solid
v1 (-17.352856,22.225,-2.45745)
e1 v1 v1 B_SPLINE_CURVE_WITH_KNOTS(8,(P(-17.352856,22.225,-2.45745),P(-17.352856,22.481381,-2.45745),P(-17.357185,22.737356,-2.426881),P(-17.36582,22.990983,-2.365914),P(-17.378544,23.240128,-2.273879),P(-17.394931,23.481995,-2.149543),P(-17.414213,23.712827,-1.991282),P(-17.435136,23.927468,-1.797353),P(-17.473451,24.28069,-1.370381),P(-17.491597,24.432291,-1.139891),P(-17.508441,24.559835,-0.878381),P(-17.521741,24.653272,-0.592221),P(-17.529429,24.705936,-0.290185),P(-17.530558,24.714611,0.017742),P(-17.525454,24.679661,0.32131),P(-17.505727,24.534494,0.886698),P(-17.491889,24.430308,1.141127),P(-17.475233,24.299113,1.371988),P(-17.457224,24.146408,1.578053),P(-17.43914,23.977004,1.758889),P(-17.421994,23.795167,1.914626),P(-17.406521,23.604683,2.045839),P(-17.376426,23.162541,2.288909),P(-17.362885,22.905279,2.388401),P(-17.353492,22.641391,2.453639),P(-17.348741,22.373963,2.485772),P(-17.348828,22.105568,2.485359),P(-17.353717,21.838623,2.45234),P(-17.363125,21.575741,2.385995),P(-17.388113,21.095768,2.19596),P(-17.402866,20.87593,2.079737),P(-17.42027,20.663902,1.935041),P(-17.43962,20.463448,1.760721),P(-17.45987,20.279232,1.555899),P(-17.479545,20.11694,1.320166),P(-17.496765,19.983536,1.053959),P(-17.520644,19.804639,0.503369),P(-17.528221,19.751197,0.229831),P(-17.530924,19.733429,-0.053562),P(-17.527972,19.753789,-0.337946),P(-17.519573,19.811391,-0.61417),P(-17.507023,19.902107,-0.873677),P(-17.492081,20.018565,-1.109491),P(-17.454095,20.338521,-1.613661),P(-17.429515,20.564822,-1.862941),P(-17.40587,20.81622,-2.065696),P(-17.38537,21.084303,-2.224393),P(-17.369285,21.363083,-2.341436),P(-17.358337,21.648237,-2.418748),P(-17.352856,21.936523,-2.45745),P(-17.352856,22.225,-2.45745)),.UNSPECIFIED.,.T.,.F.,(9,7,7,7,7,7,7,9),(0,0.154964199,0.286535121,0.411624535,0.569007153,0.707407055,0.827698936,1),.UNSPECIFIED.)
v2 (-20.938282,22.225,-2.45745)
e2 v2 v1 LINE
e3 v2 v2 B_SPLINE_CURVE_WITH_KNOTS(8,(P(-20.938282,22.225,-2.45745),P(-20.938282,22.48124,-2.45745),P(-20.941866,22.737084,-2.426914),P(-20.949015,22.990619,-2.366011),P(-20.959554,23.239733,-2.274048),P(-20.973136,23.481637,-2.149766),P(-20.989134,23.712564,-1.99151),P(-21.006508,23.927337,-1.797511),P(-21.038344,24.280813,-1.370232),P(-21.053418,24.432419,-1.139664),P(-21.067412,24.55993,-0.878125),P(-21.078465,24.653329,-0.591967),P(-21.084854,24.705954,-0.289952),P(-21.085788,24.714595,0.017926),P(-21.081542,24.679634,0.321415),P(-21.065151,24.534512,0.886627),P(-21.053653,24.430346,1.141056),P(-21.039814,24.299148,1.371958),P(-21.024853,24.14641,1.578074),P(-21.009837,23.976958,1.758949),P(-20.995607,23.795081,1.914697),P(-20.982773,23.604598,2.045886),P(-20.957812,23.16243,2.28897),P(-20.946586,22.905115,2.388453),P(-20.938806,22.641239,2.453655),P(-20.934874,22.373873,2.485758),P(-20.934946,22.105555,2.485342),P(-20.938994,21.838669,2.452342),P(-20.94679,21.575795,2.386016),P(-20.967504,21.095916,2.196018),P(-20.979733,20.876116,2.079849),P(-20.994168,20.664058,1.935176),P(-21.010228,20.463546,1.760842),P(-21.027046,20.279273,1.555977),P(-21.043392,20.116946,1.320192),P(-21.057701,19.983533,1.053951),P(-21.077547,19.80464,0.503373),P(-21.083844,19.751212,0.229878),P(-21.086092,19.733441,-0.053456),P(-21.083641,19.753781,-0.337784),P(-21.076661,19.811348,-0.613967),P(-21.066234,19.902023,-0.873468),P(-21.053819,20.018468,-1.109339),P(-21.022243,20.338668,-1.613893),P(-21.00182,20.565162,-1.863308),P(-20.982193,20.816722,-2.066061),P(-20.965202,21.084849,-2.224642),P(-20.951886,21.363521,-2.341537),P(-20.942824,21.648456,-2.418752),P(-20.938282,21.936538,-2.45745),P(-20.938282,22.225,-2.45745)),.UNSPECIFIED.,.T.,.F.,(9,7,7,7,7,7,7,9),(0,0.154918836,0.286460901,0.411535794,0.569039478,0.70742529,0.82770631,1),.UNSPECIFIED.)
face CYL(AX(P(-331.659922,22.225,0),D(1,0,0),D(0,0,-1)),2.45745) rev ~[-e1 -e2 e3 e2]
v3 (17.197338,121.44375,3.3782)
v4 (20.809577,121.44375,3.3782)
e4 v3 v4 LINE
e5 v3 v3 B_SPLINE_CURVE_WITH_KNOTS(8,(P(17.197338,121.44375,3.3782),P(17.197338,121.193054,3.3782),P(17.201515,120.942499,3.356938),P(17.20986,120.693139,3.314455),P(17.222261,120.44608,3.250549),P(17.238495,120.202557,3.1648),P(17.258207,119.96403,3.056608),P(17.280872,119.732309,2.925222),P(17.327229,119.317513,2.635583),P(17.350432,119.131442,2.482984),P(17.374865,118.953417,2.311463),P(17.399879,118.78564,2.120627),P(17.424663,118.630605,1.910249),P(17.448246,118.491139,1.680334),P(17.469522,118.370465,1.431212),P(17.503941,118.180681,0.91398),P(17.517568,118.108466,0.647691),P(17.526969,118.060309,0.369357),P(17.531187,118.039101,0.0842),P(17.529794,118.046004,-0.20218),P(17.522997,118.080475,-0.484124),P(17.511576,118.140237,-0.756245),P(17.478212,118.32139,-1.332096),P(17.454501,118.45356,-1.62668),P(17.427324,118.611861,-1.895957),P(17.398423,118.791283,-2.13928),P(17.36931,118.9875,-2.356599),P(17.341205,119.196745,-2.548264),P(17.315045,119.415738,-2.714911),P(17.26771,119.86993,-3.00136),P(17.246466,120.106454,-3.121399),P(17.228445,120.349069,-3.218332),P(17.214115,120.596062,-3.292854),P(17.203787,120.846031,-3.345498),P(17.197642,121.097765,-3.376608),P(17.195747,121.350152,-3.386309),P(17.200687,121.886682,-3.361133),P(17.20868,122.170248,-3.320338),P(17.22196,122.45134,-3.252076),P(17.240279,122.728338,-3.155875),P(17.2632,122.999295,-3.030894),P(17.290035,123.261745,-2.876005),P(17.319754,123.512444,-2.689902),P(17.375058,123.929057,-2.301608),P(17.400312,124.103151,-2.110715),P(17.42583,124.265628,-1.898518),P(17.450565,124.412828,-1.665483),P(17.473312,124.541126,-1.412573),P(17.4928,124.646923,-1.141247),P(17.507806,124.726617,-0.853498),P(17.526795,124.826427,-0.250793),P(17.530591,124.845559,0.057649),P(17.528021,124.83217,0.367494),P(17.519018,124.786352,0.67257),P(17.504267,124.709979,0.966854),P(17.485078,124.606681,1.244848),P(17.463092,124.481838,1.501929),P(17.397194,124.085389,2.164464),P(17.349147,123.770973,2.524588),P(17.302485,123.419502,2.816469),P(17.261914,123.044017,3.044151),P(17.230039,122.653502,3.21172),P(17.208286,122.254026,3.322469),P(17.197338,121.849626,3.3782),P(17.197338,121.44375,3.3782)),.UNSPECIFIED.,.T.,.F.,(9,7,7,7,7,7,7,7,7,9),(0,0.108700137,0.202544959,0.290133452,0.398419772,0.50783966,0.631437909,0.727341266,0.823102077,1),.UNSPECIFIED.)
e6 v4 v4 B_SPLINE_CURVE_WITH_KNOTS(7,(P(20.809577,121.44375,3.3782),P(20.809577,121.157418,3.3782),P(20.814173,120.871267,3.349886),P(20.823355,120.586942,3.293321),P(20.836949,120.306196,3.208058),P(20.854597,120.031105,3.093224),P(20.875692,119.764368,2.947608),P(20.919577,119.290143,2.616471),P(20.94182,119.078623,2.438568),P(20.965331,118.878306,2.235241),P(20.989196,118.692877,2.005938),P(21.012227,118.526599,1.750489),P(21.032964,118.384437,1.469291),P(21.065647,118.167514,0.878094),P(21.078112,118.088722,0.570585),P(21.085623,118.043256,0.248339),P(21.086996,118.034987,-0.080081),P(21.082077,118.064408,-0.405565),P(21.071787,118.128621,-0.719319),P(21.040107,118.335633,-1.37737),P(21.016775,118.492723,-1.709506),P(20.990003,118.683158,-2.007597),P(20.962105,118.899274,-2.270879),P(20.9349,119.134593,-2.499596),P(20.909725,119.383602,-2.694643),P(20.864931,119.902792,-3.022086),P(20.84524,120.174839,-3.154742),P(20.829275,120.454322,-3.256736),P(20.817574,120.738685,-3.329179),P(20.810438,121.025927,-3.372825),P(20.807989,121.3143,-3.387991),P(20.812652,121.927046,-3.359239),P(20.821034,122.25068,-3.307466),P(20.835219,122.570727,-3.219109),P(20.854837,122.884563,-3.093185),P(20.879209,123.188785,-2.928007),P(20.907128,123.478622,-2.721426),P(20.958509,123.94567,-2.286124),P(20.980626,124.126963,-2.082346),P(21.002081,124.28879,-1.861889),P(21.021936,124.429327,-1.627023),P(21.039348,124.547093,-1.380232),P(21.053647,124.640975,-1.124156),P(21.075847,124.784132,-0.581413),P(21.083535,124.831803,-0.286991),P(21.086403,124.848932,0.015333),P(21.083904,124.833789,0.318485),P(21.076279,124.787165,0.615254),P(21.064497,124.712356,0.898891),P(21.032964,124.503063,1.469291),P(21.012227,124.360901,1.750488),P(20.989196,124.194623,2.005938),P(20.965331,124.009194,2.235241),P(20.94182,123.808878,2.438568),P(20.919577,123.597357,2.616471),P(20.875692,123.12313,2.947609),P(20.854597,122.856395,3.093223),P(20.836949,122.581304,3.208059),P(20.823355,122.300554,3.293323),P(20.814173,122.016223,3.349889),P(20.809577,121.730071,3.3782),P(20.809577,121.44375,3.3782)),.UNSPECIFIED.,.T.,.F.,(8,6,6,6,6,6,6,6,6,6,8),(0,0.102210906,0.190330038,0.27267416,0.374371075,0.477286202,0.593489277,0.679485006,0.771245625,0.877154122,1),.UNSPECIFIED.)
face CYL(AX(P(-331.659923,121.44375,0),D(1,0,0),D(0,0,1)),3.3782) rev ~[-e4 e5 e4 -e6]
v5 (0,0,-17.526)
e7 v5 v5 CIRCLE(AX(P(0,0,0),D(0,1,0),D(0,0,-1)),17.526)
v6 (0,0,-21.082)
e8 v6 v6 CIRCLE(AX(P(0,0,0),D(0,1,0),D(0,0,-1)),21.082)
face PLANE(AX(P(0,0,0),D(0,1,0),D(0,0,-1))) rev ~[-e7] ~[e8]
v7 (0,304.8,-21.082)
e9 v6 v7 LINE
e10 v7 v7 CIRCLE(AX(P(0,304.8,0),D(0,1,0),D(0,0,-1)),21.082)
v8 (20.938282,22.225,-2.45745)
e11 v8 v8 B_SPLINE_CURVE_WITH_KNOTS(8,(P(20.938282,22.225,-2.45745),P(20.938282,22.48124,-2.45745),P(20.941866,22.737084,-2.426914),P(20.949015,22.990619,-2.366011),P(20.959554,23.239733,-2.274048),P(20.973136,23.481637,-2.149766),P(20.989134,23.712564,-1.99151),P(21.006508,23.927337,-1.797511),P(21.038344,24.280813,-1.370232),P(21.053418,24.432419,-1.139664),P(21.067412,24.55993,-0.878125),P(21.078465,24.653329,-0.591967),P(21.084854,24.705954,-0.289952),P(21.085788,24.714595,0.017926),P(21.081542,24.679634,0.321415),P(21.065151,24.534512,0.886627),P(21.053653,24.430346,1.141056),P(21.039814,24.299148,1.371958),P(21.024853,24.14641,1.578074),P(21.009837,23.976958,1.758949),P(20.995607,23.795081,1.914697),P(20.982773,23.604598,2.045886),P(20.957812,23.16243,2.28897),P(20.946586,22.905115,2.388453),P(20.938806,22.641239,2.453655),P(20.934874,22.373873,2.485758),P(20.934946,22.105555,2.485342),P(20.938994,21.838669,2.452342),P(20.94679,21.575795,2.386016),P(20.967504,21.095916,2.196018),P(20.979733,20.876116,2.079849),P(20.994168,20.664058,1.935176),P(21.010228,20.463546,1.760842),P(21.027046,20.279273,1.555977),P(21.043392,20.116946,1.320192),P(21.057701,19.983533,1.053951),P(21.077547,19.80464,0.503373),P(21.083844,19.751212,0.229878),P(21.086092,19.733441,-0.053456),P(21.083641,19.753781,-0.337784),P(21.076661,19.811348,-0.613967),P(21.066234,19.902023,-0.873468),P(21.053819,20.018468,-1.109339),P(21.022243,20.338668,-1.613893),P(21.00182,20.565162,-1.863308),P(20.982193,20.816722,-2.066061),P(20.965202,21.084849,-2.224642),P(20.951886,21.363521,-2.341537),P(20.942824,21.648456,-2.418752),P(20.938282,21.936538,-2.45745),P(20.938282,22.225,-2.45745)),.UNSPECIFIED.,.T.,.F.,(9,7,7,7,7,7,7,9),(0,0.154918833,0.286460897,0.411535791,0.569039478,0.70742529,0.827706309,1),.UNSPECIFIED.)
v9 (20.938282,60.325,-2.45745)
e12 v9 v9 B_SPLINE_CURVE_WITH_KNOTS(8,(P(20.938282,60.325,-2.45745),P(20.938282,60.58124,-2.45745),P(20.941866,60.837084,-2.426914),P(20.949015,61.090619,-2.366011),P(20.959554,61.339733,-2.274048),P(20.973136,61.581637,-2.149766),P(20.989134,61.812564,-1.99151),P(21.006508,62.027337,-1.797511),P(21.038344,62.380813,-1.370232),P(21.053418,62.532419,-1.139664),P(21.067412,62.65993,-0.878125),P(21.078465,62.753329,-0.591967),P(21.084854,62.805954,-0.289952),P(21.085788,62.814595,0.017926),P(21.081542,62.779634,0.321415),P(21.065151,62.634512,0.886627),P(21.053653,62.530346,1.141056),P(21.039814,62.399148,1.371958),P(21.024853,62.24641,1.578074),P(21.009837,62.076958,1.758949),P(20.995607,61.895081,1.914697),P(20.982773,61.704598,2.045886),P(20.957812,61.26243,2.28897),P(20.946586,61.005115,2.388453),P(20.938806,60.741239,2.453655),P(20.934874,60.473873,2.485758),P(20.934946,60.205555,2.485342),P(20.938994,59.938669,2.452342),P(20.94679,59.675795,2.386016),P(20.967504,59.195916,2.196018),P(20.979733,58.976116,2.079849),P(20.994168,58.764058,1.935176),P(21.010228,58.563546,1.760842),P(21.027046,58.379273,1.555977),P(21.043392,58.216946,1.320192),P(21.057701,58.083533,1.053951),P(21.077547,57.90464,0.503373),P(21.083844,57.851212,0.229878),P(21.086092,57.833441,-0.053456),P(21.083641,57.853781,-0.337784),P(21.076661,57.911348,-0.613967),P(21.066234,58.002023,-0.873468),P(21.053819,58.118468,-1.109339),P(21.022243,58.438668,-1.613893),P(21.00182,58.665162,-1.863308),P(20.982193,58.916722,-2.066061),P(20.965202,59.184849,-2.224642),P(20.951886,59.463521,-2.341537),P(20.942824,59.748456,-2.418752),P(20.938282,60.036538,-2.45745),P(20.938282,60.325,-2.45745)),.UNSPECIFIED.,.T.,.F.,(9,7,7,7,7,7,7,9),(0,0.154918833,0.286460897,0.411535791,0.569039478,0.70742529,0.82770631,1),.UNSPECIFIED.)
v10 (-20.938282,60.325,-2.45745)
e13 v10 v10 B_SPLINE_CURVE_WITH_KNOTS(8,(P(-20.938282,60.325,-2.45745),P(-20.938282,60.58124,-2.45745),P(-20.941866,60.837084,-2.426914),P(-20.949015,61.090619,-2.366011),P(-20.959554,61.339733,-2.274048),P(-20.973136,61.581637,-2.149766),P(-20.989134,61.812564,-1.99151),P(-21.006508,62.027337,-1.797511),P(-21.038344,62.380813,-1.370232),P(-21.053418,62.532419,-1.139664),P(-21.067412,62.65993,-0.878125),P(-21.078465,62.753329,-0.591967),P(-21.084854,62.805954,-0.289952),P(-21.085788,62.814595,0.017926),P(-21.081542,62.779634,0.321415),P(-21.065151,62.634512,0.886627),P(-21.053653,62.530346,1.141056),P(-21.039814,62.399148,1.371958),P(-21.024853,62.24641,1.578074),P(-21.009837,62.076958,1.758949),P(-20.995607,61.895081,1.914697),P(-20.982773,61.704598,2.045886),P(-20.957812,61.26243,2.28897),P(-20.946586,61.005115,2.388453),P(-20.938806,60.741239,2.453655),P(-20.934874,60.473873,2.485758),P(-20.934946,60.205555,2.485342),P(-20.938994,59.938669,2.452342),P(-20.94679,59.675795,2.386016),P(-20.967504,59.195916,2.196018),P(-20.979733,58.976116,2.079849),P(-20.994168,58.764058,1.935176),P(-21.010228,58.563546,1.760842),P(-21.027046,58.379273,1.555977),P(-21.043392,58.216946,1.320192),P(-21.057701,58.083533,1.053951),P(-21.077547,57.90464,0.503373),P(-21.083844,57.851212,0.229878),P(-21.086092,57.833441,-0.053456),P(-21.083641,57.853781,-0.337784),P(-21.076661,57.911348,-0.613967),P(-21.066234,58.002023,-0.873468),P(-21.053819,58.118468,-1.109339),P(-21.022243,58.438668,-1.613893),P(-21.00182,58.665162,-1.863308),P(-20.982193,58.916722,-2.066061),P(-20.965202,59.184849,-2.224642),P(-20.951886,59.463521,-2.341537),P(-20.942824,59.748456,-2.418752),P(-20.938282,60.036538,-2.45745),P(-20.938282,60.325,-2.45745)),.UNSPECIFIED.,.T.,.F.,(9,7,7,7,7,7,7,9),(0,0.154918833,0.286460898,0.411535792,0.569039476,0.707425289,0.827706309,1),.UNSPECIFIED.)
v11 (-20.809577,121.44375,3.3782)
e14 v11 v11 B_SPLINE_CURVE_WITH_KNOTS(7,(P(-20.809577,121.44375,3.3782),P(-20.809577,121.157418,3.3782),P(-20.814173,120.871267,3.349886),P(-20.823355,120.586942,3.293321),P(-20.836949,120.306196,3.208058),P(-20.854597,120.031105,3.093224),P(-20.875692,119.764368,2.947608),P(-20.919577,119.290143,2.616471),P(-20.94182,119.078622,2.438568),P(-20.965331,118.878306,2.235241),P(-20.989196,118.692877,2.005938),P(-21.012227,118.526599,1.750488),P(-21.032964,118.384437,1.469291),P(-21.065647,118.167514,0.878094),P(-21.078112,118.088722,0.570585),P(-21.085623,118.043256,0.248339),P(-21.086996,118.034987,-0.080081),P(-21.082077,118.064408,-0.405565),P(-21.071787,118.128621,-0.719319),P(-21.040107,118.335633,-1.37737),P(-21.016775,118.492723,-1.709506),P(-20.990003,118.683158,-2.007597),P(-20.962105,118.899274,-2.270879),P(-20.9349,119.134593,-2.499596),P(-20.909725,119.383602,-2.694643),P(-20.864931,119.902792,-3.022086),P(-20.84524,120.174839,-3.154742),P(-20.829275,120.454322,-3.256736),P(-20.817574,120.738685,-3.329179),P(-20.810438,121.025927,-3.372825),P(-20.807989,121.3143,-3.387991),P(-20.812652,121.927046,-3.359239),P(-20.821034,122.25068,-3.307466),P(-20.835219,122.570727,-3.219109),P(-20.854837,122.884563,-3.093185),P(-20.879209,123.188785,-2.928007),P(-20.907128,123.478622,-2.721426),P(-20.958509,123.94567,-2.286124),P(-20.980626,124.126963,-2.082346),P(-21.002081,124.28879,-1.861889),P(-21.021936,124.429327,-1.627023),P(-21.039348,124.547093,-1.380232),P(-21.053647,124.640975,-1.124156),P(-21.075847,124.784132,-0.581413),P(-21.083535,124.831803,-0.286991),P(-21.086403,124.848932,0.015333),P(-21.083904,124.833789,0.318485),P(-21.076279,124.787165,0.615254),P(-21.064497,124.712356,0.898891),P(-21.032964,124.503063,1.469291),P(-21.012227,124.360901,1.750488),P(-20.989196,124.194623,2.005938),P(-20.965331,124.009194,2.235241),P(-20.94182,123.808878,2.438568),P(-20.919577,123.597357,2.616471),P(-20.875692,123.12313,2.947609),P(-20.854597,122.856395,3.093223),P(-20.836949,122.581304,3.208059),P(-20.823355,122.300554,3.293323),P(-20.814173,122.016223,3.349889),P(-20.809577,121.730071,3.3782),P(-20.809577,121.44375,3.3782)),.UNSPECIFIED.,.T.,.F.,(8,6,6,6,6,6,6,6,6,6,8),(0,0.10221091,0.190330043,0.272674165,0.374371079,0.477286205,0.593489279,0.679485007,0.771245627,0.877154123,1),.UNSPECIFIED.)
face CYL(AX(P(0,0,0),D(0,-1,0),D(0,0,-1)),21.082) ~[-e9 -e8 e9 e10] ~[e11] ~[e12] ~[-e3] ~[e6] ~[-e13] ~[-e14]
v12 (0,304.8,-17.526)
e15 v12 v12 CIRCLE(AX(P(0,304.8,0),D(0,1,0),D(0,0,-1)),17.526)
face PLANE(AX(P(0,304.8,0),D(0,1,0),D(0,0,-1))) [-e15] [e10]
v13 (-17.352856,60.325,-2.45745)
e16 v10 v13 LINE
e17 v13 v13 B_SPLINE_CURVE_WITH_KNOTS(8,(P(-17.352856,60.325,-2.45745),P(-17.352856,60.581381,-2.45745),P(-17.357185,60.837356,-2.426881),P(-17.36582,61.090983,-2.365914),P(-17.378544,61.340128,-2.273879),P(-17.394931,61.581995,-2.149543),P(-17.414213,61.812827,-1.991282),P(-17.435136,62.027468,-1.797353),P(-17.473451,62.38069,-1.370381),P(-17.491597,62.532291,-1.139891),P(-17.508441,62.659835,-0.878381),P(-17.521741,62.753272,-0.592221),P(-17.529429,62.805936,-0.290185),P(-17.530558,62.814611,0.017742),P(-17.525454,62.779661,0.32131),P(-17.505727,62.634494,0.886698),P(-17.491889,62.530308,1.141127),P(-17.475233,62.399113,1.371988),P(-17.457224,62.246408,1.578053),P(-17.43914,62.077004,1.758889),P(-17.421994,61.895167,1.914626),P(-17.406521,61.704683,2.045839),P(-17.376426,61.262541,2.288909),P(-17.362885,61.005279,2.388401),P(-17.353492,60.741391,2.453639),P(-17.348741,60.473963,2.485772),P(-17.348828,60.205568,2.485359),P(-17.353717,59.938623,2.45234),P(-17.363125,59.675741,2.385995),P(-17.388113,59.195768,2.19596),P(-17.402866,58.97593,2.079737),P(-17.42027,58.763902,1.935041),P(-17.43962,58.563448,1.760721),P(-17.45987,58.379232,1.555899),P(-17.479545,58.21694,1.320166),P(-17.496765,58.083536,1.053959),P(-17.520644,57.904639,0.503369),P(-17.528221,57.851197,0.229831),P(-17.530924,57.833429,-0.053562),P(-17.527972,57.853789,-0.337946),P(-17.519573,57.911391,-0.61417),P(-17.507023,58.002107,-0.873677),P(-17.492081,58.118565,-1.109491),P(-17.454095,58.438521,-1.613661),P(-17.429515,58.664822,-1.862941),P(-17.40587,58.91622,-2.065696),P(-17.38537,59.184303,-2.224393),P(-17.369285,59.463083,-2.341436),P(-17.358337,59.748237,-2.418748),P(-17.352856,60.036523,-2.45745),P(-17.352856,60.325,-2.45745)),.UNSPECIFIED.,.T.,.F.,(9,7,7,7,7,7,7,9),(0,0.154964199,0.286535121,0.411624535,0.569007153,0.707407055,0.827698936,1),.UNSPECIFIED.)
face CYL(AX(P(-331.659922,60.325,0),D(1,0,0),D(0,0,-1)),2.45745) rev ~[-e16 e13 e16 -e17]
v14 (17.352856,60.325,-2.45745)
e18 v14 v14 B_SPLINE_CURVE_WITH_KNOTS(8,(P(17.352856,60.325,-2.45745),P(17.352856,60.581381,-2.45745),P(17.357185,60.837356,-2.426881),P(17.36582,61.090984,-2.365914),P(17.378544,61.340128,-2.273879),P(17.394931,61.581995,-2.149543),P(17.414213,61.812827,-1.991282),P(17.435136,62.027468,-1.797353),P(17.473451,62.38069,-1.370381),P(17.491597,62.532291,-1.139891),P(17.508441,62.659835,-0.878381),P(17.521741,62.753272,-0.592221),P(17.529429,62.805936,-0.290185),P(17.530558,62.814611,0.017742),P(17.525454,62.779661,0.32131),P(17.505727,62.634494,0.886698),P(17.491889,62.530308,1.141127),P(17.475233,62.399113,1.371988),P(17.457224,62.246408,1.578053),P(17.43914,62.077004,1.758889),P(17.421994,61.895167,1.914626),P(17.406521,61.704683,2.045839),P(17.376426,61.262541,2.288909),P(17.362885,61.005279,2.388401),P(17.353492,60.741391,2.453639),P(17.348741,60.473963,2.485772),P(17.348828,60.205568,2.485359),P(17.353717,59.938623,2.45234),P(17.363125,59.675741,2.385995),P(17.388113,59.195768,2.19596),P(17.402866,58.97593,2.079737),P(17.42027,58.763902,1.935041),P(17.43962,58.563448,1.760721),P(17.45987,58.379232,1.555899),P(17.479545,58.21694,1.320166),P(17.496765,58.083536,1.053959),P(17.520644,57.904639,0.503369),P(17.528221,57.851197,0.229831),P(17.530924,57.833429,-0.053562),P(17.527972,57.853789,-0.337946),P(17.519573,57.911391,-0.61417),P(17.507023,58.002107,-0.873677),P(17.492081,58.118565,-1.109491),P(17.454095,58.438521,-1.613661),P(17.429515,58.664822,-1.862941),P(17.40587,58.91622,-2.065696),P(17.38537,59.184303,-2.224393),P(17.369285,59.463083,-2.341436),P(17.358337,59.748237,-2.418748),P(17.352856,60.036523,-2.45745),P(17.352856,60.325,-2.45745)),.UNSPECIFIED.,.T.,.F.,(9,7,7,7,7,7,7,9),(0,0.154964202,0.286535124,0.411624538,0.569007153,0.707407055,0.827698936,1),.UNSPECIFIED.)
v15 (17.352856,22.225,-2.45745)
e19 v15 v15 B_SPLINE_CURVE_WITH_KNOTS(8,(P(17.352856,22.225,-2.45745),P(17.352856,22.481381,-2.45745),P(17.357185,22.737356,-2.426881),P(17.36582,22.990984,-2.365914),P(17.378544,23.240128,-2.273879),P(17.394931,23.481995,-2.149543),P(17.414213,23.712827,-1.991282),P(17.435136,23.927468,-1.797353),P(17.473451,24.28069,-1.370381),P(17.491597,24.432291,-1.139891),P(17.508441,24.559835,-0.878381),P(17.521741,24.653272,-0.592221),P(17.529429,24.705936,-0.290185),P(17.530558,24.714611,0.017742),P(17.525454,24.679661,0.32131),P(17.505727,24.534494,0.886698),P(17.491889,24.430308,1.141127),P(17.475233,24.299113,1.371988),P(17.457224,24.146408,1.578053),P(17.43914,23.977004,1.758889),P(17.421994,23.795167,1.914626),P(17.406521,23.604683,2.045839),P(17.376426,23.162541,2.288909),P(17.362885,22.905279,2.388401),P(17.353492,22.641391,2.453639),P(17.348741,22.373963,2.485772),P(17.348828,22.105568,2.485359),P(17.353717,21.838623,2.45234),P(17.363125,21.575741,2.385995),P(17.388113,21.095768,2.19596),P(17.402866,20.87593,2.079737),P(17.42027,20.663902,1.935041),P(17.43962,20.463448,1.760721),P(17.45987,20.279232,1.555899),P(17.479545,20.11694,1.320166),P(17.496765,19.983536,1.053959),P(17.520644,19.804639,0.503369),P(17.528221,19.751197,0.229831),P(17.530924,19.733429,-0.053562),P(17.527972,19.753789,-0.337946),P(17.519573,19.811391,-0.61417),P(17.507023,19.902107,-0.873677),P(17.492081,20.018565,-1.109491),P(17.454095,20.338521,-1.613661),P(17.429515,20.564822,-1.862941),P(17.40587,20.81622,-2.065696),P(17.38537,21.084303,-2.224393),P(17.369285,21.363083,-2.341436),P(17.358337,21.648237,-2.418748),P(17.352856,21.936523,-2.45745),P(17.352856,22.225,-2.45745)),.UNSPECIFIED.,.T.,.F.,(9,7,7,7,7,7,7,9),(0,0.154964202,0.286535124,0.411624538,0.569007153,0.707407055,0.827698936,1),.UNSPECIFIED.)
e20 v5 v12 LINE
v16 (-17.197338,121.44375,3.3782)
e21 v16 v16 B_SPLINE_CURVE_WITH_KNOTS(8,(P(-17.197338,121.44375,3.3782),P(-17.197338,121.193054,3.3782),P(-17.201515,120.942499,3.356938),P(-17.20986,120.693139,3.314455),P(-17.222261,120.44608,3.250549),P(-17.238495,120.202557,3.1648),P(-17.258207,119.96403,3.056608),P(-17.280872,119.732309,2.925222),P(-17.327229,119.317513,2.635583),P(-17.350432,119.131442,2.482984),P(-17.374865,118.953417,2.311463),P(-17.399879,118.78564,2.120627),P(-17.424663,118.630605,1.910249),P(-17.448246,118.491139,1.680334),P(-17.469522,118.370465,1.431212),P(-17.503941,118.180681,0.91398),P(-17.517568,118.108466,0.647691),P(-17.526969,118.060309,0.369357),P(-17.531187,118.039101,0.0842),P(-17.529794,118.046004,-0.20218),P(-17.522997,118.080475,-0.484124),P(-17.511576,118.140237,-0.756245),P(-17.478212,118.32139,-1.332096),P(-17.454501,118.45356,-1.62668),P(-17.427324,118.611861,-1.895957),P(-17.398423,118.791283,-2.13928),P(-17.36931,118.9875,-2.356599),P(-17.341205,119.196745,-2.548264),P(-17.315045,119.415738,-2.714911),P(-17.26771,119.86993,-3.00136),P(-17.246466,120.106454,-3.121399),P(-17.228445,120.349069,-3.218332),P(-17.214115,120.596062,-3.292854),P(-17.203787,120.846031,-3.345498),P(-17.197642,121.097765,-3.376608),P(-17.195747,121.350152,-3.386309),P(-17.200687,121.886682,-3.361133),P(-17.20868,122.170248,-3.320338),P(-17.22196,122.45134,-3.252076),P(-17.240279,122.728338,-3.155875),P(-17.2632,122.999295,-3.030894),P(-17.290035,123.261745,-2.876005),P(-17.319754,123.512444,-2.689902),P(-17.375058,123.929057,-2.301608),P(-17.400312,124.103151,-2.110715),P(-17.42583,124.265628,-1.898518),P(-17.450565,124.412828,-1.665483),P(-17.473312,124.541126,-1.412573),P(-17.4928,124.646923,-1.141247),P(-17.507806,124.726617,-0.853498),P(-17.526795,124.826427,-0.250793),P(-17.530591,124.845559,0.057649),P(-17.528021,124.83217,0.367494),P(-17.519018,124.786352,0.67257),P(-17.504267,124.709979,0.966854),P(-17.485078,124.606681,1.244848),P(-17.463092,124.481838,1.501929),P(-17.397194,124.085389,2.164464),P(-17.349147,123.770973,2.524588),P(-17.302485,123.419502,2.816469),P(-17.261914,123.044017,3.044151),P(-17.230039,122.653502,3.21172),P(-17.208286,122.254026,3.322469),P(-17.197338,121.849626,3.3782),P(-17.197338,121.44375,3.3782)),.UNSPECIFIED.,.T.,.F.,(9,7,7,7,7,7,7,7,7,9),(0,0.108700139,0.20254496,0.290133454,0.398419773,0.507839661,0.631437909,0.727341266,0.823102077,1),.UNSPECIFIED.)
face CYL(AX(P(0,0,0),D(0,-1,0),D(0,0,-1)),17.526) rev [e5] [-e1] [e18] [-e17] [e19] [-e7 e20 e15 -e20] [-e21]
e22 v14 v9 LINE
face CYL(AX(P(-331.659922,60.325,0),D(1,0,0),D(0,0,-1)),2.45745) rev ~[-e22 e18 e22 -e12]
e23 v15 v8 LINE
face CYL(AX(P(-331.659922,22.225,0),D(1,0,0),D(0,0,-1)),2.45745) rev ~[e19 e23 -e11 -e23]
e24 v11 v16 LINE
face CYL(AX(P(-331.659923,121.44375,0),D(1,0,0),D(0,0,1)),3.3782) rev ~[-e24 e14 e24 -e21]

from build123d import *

# Parameters (mm, degrees)
SKETCH1_R                    = 21.082
SKETCH1_R_2                  = 17.526
BOSS_EXTRUDE1_DEPTH          = 304.8
F_10_0_1935_DIAMETER_HOLE1_D = 4.9149
F_1_4_CLEARANCE_HOLE1_D      = 6.7564


with BuildPart() as part:
    # Sketch1 → Boss-Extrude1 (new body)
    with BuildSketch(Plane(origin=(0, 0, 0), x_dir=(1, 0, 0), z_dir=(0, 1, 0))):
        with Locations(Location((0, 0, 0), (0, 0, 90))):
            Circle(SKETCH1_R)
        with Locations(Location((0, 0, 0), (0, 0, 90))):
            Circle(SKETCH1_R_2, mode=Mode.SUBTRACT)
    extrude(amount=BOSS_EXTRUDE1_DEPTH)

    # #10 (0.1935) Diameter Hole1 (through all)
    with Locations(Plane.ZY.offset(21.082)):
        with Locations((0, 22.225), (0, 60.325)):
            Hole(F_10_0_1935_DIAMETER_HOLE1_D / 2)

    # 1/4 Clearance Hole1 (through all)
    with Locations(Plane(origin=(-21.082, 0, 0), x_dir=(0, 0, -1), z_dir=(-1, 0, 0))):
        with Locations((0, -121.44375)):
            Hole(F_1_4_CLEARANCE_HOLE1_D / 2)


solid = part.part
